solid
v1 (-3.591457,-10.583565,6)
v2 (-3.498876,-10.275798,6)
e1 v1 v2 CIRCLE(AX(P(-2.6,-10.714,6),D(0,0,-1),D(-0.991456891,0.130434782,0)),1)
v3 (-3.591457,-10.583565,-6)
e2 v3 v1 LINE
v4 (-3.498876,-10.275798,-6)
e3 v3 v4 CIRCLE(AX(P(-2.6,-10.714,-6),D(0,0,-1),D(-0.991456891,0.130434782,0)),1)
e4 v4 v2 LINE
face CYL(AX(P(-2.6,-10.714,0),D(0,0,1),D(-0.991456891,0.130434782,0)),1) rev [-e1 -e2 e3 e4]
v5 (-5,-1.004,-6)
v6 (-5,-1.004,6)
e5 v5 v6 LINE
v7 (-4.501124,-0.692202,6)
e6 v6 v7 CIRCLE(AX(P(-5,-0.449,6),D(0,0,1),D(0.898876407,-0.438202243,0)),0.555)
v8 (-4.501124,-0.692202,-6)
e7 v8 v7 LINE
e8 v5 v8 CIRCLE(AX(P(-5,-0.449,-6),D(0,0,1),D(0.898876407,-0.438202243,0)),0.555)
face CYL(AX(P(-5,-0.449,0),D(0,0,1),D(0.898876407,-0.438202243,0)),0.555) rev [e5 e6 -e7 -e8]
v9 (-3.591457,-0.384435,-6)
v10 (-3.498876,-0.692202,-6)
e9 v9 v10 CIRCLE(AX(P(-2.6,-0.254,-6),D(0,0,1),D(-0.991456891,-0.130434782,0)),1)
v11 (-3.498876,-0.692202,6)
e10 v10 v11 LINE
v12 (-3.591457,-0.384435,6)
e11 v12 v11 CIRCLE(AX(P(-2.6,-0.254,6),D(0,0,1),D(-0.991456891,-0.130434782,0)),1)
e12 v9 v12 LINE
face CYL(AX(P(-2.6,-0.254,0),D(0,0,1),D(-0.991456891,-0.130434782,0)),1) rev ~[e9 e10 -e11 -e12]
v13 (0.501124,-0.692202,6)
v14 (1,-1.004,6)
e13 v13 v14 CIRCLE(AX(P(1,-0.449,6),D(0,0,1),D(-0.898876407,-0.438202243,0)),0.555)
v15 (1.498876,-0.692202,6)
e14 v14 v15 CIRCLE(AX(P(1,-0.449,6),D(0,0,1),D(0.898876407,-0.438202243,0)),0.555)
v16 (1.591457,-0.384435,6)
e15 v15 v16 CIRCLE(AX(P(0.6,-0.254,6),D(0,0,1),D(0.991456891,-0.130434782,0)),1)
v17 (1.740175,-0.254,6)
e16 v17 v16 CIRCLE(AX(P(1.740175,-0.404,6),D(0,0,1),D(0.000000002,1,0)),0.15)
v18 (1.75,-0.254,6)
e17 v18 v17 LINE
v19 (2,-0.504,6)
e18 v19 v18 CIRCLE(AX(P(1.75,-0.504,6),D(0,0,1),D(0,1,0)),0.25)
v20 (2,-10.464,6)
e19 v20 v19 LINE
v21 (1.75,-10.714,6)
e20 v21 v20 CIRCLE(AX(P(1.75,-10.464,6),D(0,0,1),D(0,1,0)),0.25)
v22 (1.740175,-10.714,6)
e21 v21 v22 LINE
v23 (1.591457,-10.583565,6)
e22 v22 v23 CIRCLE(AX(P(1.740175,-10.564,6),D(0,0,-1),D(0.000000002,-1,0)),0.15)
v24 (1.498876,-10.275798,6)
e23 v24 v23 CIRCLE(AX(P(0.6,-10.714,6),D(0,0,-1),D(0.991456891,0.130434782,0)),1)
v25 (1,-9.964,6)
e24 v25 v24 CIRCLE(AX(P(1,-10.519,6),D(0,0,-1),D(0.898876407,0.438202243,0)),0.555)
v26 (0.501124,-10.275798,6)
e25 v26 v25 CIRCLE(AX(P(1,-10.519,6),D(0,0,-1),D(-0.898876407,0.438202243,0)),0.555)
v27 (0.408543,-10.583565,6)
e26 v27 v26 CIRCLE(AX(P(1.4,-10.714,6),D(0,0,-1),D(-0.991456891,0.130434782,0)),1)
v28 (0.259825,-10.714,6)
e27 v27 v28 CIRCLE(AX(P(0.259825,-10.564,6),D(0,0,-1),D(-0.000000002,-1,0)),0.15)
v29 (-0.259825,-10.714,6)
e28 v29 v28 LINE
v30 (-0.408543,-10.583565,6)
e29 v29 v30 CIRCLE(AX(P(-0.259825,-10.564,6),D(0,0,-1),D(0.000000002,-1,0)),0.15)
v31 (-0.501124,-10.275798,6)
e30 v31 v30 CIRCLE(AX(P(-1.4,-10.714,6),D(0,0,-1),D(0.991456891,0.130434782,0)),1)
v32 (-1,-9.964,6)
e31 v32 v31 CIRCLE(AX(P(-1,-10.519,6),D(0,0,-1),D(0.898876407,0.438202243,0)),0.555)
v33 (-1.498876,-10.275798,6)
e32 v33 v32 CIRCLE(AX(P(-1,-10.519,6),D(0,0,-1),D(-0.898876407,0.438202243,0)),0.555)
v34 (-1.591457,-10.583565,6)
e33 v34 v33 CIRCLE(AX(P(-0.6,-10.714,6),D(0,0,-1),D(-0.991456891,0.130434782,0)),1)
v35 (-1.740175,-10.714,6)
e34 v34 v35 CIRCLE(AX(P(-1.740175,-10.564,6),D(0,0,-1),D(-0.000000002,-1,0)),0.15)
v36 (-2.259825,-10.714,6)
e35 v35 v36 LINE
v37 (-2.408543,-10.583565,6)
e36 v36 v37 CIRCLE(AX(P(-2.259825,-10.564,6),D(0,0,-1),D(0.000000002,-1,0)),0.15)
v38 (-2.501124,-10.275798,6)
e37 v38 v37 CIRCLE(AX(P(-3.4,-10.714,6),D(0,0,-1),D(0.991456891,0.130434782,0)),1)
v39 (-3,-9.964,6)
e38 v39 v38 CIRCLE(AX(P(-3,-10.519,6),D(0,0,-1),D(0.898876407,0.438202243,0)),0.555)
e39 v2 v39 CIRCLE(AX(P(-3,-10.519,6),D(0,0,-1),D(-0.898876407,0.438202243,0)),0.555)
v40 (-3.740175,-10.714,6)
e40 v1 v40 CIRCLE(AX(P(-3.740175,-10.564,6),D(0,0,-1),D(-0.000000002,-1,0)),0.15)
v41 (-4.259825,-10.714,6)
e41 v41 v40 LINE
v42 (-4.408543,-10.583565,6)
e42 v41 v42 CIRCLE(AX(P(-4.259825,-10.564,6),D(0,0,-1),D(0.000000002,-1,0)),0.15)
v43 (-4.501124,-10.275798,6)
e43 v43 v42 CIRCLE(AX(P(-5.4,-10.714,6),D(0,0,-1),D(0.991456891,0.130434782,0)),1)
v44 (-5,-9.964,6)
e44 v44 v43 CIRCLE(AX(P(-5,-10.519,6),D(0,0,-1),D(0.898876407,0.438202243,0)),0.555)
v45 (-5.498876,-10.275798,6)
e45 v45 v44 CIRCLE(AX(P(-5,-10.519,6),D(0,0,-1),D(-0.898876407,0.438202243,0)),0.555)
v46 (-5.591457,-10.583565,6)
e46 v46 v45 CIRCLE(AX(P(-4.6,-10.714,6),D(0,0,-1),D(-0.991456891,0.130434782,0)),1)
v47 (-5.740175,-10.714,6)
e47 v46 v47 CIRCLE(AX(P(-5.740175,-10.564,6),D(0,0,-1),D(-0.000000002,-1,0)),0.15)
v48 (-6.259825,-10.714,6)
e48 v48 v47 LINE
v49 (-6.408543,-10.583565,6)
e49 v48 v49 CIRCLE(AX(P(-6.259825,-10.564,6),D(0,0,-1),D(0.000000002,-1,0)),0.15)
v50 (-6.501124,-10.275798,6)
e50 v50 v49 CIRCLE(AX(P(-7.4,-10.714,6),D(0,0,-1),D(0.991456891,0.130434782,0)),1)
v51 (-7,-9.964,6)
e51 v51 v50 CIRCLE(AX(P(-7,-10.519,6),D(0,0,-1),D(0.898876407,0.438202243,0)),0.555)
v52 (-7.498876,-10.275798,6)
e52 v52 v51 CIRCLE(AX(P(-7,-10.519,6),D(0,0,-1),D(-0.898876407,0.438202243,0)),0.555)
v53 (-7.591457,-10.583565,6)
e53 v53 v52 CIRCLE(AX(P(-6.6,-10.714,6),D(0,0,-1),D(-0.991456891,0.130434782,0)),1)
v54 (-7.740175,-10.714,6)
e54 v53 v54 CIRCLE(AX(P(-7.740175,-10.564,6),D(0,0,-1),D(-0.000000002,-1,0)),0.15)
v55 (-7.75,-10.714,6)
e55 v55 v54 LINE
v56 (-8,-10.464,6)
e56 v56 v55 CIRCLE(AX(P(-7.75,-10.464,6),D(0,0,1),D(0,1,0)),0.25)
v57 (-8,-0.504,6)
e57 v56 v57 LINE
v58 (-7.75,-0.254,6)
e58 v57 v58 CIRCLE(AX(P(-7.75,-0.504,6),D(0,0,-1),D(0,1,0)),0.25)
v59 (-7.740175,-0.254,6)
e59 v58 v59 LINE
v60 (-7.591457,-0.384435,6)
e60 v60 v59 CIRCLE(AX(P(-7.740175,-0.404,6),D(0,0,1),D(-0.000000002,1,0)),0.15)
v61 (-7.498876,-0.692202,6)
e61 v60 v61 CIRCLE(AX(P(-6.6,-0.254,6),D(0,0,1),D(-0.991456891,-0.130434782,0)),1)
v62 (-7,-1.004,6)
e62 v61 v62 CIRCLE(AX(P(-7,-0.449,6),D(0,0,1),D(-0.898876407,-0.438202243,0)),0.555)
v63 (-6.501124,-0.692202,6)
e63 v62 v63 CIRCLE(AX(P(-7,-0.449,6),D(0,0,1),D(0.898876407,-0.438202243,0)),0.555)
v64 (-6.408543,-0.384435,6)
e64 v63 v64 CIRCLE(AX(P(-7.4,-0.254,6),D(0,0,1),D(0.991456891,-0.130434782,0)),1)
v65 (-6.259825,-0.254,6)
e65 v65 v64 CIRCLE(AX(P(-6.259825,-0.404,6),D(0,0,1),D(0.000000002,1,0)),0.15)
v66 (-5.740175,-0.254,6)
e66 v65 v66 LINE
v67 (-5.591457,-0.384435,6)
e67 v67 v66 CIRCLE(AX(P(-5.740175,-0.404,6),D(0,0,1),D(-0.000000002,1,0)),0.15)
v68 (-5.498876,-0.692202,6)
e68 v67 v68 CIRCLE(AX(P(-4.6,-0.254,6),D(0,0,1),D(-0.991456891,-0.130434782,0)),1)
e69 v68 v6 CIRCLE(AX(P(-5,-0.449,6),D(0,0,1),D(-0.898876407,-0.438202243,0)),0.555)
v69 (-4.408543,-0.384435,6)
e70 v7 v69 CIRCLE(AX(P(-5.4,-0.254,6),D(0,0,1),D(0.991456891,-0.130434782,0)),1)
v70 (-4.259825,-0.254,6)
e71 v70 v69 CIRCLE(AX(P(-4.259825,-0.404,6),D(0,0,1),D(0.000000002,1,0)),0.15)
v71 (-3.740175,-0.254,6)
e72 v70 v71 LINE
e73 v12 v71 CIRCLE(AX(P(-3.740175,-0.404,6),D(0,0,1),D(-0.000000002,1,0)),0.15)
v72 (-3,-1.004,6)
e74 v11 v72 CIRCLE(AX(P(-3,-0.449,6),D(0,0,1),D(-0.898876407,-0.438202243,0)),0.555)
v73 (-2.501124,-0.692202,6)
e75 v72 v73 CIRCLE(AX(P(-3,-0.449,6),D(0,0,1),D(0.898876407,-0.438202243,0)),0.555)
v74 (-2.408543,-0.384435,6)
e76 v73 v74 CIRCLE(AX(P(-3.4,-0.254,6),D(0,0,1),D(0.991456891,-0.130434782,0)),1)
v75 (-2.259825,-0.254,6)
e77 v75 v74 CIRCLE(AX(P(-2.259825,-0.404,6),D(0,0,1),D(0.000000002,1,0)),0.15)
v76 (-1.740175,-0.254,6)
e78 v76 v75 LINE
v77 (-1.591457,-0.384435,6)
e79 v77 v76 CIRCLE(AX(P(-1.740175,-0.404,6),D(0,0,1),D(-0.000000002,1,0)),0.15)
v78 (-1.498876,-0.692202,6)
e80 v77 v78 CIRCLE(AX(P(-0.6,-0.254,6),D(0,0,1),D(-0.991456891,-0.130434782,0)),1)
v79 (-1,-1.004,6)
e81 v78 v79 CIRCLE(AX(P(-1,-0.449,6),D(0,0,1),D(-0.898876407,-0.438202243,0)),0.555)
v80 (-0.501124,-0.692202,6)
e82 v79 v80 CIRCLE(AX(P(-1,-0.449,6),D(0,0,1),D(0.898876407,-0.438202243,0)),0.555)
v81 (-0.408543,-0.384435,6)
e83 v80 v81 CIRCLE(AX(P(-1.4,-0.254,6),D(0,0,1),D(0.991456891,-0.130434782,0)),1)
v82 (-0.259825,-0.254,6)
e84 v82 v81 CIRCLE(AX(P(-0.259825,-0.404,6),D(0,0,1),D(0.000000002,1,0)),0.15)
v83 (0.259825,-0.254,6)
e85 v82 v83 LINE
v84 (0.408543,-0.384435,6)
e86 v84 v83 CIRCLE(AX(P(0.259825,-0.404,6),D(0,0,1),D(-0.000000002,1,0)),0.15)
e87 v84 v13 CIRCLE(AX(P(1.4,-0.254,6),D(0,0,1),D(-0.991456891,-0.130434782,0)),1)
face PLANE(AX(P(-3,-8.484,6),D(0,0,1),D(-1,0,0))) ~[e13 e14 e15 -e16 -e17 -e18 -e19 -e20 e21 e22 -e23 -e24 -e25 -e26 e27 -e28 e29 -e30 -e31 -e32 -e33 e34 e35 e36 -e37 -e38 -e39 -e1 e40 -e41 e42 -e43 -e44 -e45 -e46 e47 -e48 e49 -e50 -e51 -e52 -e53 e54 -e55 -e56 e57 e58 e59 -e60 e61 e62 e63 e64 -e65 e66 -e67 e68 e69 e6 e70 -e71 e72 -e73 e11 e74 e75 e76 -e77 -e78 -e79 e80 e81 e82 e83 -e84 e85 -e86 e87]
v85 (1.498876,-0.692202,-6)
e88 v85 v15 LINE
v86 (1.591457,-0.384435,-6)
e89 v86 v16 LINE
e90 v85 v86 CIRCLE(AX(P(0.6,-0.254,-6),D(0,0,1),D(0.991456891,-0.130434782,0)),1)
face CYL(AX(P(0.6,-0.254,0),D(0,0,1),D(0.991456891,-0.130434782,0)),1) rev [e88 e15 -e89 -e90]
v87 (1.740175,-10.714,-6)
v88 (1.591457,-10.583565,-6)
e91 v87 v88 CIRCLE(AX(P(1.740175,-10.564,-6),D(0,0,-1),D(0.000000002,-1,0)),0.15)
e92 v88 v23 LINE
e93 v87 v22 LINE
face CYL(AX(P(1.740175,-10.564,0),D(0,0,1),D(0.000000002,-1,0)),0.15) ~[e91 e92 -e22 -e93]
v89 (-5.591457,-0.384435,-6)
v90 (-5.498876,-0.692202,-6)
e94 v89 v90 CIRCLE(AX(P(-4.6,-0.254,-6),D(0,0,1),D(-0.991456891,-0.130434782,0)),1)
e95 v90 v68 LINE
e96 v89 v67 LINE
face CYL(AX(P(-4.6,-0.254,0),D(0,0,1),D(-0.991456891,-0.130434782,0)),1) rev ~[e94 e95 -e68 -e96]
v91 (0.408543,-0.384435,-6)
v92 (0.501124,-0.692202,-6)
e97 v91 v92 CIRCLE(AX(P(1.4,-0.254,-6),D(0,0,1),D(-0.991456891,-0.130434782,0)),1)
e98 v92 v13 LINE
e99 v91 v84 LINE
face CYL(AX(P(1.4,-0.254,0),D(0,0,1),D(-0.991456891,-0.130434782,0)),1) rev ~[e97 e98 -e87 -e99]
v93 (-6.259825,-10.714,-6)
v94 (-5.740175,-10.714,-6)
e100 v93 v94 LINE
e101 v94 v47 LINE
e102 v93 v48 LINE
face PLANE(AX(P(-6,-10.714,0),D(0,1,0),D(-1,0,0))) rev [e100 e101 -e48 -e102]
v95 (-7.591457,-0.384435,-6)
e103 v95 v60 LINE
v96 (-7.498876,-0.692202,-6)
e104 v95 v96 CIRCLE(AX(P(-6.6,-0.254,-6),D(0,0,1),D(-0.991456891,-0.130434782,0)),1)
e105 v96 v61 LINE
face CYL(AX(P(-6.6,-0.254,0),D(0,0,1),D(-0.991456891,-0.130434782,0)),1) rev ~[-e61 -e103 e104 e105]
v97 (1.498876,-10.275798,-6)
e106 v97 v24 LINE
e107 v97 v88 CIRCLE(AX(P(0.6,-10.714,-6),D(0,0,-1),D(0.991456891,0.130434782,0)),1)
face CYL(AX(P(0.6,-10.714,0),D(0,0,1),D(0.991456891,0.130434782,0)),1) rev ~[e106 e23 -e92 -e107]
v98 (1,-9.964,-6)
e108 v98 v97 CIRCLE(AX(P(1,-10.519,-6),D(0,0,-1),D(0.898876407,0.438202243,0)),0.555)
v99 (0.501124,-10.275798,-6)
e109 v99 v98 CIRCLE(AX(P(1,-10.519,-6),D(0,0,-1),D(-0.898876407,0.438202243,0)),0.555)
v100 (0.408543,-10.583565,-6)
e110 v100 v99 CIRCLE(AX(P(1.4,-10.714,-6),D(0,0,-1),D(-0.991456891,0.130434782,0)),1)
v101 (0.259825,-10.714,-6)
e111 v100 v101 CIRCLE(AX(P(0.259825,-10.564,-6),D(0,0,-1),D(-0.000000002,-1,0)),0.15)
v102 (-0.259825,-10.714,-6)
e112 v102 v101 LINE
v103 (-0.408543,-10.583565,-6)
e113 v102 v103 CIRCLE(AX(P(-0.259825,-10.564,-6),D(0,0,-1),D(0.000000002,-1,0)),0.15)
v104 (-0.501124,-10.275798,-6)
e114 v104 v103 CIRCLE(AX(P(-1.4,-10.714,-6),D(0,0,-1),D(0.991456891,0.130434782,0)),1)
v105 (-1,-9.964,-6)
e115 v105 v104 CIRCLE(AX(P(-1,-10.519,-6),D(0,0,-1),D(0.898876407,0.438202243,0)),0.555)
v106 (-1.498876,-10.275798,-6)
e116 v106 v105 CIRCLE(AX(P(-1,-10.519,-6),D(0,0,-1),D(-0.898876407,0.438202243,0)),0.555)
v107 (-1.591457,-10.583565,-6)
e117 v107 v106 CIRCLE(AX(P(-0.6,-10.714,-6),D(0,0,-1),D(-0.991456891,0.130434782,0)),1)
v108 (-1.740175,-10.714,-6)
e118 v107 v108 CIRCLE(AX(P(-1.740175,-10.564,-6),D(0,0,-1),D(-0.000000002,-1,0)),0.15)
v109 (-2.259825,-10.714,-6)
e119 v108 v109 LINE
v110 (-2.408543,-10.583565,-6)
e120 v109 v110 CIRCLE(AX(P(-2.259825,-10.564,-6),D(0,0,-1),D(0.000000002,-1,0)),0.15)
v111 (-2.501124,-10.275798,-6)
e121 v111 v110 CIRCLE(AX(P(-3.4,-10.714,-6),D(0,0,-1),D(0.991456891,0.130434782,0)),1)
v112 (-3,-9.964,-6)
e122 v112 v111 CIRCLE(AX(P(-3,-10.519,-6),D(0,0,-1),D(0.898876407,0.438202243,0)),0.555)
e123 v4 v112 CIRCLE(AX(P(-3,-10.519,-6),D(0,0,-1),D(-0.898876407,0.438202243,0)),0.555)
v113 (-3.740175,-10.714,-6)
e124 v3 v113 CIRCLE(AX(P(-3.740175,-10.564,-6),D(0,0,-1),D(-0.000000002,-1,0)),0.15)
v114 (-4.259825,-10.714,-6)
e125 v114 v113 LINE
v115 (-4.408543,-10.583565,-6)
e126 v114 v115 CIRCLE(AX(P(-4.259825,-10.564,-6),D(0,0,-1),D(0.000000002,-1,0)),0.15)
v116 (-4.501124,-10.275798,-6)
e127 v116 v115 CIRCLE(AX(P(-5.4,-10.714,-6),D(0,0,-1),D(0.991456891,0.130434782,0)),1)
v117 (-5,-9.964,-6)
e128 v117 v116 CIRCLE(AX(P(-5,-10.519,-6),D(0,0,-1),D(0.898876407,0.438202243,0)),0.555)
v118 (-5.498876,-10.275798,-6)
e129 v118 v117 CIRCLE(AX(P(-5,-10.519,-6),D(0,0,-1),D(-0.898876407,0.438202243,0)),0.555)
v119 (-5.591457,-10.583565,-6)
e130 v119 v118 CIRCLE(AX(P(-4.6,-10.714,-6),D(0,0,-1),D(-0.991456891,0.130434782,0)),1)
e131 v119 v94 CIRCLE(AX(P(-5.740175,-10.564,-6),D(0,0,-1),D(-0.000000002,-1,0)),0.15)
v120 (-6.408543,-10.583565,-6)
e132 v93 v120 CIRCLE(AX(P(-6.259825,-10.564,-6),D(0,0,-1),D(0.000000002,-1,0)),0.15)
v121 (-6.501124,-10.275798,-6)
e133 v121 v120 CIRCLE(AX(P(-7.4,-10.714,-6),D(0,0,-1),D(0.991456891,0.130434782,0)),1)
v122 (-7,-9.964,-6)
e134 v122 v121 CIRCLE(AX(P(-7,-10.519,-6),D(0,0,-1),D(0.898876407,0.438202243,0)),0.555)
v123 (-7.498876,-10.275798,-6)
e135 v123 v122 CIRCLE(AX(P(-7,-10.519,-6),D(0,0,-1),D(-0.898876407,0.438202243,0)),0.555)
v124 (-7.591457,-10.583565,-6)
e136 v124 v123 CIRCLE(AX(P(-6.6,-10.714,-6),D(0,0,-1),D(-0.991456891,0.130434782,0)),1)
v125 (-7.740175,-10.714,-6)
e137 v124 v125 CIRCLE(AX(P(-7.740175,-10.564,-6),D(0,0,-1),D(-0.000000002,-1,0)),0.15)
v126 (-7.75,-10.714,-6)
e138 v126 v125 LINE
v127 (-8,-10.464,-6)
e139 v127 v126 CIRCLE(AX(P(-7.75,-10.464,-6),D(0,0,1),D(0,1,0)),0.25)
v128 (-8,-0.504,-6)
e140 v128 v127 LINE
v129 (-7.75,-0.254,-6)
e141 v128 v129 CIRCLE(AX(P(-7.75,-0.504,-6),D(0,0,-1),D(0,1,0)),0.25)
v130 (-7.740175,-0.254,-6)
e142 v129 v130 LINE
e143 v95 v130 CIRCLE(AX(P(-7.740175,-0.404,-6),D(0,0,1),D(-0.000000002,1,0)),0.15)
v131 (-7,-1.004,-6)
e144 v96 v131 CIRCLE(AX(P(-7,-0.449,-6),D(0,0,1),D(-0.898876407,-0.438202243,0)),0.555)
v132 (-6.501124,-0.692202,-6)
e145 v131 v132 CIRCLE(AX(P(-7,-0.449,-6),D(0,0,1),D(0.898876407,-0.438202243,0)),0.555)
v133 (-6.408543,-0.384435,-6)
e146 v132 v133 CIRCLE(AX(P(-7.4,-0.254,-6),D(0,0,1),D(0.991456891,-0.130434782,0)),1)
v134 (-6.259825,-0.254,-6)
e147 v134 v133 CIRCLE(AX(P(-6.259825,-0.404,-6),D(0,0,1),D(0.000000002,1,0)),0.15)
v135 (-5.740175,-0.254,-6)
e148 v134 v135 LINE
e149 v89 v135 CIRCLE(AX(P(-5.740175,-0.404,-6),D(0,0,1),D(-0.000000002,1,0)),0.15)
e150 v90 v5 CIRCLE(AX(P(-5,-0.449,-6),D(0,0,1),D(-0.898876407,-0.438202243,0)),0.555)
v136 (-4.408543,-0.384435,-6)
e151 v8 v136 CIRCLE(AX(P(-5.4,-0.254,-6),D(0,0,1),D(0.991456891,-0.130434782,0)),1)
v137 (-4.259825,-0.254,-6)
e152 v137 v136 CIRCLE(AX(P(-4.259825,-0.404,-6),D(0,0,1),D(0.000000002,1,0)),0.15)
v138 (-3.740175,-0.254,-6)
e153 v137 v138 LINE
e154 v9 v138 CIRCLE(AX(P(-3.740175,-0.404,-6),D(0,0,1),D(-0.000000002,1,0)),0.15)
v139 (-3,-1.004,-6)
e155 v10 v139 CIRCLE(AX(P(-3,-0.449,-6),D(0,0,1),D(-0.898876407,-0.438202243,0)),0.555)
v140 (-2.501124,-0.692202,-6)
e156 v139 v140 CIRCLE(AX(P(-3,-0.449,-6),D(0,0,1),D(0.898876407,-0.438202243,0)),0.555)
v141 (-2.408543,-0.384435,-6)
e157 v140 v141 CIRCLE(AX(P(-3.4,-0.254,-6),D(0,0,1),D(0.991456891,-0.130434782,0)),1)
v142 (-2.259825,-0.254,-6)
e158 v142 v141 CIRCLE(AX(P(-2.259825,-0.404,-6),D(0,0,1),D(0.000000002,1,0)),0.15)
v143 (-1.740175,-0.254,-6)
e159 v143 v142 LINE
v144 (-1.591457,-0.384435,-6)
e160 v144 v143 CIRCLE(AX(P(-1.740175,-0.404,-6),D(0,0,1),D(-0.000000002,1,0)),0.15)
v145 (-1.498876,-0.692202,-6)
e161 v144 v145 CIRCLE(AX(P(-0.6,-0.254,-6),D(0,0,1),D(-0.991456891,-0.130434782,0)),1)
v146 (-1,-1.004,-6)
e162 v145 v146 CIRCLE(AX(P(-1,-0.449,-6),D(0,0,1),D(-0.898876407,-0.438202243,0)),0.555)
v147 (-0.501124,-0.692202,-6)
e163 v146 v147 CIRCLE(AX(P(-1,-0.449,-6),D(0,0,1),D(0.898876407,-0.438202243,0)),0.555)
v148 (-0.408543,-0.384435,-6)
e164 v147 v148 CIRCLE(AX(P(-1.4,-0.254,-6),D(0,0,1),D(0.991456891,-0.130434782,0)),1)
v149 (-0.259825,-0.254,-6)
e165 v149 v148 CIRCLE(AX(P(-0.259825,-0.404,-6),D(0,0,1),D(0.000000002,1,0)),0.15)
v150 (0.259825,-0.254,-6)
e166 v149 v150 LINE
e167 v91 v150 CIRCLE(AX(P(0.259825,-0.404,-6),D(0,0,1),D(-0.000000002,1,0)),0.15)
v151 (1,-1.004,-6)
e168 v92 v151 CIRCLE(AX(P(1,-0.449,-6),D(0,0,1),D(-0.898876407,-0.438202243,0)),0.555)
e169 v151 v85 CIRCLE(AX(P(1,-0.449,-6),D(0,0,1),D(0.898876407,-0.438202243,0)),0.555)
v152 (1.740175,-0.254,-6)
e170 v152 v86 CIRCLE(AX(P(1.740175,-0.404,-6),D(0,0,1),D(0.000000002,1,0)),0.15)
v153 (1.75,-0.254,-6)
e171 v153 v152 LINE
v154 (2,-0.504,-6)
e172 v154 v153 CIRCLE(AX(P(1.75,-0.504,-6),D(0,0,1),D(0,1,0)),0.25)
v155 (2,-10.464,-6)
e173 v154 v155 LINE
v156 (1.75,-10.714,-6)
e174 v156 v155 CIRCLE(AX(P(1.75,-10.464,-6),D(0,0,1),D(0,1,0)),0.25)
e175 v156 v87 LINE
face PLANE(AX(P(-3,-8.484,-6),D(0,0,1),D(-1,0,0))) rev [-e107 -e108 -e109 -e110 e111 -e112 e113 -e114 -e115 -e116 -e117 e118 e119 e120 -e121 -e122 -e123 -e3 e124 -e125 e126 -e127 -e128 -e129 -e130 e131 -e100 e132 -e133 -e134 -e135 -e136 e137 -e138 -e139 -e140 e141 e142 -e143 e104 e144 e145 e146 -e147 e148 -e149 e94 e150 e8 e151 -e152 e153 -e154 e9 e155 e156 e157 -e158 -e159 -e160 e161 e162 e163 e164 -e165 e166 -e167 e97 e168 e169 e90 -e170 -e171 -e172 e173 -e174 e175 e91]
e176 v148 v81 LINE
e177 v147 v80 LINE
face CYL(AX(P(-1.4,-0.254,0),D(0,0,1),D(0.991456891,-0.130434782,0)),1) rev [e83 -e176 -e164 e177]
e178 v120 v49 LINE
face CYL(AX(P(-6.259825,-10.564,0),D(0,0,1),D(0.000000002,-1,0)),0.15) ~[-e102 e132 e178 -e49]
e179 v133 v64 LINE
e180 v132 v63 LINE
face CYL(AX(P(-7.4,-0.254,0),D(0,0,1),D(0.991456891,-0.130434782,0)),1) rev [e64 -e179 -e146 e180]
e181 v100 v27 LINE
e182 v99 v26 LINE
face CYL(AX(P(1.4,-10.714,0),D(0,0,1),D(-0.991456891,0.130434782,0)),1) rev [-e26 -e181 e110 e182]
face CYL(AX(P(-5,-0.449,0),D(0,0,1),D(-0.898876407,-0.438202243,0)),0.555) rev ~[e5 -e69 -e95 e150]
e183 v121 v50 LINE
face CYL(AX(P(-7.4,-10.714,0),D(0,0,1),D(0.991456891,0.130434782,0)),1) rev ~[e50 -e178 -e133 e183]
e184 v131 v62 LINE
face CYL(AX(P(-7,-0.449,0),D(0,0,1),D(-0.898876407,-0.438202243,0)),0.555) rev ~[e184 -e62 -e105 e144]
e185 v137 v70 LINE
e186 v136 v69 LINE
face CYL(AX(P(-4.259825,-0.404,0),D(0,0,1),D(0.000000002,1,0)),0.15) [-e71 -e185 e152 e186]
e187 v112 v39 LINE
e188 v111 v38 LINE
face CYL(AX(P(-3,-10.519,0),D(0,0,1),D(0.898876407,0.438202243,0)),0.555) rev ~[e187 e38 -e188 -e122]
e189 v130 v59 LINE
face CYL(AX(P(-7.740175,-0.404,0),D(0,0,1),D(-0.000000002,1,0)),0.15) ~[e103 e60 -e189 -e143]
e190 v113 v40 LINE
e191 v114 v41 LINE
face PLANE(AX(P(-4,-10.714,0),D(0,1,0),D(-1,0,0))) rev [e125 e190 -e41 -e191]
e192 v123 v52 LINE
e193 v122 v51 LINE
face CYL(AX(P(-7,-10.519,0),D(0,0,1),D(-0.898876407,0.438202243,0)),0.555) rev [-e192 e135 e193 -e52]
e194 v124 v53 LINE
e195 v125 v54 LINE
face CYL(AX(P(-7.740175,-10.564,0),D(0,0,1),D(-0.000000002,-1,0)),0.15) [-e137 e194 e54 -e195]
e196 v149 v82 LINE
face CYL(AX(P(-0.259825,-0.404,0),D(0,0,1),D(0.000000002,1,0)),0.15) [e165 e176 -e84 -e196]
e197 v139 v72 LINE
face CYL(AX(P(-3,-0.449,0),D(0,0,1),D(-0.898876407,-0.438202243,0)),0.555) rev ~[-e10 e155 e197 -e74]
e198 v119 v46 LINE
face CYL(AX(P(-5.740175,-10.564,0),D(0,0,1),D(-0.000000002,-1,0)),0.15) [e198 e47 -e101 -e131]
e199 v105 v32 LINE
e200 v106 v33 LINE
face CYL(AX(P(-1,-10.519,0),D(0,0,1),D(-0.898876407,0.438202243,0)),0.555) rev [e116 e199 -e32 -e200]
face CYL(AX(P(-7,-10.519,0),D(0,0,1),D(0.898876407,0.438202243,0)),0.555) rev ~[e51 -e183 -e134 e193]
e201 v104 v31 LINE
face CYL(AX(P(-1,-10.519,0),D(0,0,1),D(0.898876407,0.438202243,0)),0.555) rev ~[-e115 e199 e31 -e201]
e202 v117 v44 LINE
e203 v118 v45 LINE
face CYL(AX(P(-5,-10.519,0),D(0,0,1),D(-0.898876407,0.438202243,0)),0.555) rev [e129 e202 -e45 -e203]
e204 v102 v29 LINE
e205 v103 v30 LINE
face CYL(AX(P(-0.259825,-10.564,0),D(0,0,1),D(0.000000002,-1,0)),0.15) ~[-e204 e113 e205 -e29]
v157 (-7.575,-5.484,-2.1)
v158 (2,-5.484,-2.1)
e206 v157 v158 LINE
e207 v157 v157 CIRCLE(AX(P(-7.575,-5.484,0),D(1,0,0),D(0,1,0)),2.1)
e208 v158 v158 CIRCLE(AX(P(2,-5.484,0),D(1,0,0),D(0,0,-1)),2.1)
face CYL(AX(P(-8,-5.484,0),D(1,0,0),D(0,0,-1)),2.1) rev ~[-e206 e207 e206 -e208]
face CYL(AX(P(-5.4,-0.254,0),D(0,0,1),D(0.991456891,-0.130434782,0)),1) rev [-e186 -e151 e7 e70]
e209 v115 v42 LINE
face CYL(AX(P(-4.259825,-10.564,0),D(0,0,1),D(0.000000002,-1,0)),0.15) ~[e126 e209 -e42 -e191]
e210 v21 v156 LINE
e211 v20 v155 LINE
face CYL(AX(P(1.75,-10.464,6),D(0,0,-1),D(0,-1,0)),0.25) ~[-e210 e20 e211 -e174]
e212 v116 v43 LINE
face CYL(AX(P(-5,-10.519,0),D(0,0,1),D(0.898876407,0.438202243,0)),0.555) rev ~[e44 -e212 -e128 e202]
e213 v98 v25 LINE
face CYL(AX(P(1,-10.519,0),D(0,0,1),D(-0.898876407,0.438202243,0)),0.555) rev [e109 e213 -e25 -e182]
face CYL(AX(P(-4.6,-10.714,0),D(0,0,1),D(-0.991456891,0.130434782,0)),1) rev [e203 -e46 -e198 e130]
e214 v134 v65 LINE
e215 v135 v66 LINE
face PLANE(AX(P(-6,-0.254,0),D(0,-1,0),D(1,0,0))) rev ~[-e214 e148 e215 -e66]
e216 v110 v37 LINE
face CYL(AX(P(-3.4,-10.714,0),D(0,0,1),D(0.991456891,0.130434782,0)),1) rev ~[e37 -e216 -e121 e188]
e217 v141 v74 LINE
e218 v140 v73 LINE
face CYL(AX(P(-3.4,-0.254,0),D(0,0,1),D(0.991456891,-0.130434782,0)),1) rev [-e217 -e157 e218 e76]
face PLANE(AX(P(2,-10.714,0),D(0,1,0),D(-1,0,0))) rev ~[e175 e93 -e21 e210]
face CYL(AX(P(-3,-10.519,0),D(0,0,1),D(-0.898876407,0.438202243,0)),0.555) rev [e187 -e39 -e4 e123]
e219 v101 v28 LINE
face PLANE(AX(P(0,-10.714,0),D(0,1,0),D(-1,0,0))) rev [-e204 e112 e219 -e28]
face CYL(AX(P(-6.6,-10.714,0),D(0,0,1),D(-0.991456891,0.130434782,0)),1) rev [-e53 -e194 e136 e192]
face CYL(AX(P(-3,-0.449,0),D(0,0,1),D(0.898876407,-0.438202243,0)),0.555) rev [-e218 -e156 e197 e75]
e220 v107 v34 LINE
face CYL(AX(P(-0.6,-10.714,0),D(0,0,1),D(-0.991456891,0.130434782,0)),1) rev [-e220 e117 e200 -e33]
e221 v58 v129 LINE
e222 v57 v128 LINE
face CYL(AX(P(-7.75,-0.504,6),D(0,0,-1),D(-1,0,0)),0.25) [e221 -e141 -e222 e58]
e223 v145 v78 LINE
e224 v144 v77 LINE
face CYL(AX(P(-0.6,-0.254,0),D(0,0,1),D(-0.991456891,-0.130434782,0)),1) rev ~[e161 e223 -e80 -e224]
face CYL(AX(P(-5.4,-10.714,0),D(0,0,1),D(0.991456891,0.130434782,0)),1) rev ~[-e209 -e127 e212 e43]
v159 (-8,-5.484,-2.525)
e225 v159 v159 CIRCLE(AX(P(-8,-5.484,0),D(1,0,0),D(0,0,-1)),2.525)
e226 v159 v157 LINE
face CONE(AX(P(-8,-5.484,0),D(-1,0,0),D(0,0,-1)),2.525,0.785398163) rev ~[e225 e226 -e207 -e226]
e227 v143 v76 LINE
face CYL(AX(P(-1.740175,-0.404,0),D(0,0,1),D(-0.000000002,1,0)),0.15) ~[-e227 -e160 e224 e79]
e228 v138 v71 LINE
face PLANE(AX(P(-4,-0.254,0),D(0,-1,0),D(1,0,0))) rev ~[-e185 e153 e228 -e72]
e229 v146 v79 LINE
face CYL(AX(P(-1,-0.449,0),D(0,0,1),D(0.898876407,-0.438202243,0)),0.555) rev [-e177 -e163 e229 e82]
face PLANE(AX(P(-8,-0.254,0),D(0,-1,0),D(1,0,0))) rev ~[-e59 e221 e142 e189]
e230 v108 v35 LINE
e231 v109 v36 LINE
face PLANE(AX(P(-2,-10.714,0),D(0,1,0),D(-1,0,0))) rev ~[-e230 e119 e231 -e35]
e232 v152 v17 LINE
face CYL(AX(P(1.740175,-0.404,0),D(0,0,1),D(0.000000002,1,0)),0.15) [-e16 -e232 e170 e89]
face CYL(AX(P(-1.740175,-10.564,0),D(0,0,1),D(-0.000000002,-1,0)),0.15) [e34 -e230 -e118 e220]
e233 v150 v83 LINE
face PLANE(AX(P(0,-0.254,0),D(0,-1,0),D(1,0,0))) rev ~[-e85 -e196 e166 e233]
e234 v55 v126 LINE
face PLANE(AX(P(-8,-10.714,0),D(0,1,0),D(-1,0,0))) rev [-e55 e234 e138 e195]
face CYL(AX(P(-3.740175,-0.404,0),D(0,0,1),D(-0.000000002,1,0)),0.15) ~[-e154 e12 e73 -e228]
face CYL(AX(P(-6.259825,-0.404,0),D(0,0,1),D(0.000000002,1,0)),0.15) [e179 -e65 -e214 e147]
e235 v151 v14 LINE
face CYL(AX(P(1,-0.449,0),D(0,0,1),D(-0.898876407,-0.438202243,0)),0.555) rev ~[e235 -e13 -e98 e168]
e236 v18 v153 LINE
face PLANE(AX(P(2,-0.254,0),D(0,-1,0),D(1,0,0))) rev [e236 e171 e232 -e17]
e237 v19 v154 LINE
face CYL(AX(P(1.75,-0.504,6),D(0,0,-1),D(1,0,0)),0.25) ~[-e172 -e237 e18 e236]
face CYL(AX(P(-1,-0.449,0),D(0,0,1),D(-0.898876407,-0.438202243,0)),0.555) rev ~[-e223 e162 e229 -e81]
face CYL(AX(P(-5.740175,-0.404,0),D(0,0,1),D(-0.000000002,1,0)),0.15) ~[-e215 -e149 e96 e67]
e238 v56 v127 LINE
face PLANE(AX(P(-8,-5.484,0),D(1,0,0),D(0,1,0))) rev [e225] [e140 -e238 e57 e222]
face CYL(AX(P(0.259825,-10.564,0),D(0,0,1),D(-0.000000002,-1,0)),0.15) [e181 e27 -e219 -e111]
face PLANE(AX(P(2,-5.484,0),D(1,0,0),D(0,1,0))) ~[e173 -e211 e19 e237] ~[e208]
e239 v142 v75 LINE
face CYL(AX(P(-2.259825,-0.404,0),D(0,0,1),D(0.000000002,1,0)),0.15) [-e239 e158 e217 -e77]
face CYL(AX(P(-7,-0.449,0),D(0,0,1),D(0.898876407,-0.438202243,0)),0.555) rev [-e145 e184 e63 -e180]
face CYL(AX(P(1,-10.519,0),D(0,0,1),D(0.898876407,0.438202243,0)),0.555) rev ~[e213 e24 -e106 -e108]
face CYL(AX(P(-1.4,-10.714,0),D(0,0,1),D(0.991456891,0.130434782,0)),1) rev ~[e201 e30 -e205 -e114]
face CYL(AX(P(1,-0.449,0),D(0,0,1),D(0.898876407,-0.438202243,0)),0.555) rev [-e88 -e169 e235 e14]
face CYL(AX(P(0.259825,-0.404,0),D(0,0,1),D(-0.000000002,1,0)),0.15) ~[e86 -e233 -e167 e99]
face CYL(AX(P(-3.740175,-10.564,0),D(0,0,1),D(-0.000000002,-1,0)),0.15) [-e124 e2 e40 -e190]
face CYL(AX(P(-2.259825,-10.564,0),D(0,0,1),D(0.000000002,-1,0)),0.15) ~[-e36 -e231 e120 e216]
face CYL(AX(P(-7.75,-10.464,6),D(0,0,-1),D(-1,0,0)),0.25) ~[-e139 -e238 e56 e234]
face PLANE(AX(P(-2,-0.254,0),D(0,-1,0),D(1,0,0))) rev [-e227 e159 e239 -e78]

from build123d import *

# Parameters (mm, degrees)
BOSS_EXTRUDE1_DEPTH             = 6.35
LPATTERN1_COUNT                 = 5
LPATTERN1_PITCH                 = 2
SKETCH4_W                       = 10
SKETCH4_H                       = 6
BOSS_EXTRUDE3_DEPTH             = 6
FILLET1_R                       = 0.25
M5X0_8_TAPPED_HOLE1_D           = 4.2
M5X0_8_TAPPED_HOLE1_CSINK_D     = 5.05
M5X0_8_TAPPED_HOLE1_CSINK_ANGLE = 90


with BuildPart() as part:
    # Sketch1 → Boss-Extrude1 (new, symmetric)
    with BuildSketch(Plane.XY):
        with BuildLine():
            Line((0, 0), (0, -0.254))
            Line((0, -0.254), (0.259824575, -0.254))
            ThreePointArc((0.259824575, -0.254), (0.358731646, -0.291228588), (0.408543109, -0.384434783))
            ThreePointArc((0.408543109, -0.384434783), (0.442388286, -0.542062154), (0.501123596, -0.692202247))
            ThreePointArc((0.501123596, -0.692202247), (0.705850588, -0.919639059), (1, -1.004))
            Line((1, -1.004), (1, 0))
            Line((1, 0), (1, 0.516))
            Line((1, 0.516), (0, 0.516))
            Line((0, 0.516), (0, 0))
        make_face()
    extrude(amount=BOSS_EXTRUDE1_DEPTH, both=True)

    # Mirror1: part across plane


with BuildPart() as part_1:
    add(part.part)
    add(part.part.mirror(Plane(origin=(1, 0.516, 6.35), x_dir=(0, 0, 1), z_dir=(-1, 0, 0))))


with BuildPart() as lpattern1_1:
    # LPattern1: pattern copy
    add(part_1.part.moved(Location(Vector(-1, 0, 0) * (1 * LPATTERN1_PITCH))))


with BuildPart() as lpattern1_2:
    # LPattern1: pattern copy
    add(part_1.part.moved(Location(Vector(-1, 0, 0) * (2 * LPATTERN1_PITCH))))


with BuildPart() as lpattern1_3:
    # LPattern1: pattern copy
    add(part_1.part.moved(Location(Vector(-1, 0, 0) * (3 * LPATTERN1_PITCH))))


with BuildPart() as lpattern1_4:
    # LPattern1: pattern copy
    add(part_1.part.moved(Location(Vector(-1, 0, 0) * (4 * LPATTERN1_PITCH))))


with BuildPart() as lpattern1_1_1:
    add(lpattern1_1.part)

    # Combine1: union LPattern1_4, part, LPattern1_3, LPattern1_2
    add(lpattern1_4.part)
    add(part_1.part)
    add(lpattern1_3.part)
    add(lpattern1_2.part)


with BuildPart() as body_2:
    # Sketch4 → Boss-Extrude3 (new, symmetric)
    with BuildSketch(Plane.XY):
        with Locations((-3, -2.484)):
            Rectangle(SKETCH4_W, SKETCH4_H)
    extrude(amount=BOSS_EXTRUDE3_DEPTH, both=True)

    # Combine2: cut LPattern1_1
    add(lpattern1_1_1.part, mode=Mode.SUBTRACT)

    # Mirror2: body 2 across plane


with BuildPart() as body_2_1:
    add(body_2.part)
    add(body_2.part.mirror(Plane(origin=(2, -5.484, 6), x_dir=(0, 0, 1), z_dir=(0, 1, 0))))

    # Fillet1
    fillet1_edges = [body_2_1.edges().sort_by_distance(p)[0] for p in [
        (2, -10.714, 0),
        (-8, -10.714, 0),
        (-8, -0.254, 0),
        (2, -0.254, 0),
    ]]
    fillet(fillet1_edges, radius=FILLET1_R)

    # M5x0.8 Tapped Hole1 (through all)
    with Locations(Plane.ZY.offset(8)):
        with Locations((0, -5.484)):
            CounterSinkHole(M5X0_8_TAPPED_HOLE1_D / 2, M5X0_8_TAPPED_HOLE1_CSINK_D / 2, counter_sink_angle=M5X0_8_TAPPED_HOLE1_CSINK_ANGLE)


solid = body_2_1.part
